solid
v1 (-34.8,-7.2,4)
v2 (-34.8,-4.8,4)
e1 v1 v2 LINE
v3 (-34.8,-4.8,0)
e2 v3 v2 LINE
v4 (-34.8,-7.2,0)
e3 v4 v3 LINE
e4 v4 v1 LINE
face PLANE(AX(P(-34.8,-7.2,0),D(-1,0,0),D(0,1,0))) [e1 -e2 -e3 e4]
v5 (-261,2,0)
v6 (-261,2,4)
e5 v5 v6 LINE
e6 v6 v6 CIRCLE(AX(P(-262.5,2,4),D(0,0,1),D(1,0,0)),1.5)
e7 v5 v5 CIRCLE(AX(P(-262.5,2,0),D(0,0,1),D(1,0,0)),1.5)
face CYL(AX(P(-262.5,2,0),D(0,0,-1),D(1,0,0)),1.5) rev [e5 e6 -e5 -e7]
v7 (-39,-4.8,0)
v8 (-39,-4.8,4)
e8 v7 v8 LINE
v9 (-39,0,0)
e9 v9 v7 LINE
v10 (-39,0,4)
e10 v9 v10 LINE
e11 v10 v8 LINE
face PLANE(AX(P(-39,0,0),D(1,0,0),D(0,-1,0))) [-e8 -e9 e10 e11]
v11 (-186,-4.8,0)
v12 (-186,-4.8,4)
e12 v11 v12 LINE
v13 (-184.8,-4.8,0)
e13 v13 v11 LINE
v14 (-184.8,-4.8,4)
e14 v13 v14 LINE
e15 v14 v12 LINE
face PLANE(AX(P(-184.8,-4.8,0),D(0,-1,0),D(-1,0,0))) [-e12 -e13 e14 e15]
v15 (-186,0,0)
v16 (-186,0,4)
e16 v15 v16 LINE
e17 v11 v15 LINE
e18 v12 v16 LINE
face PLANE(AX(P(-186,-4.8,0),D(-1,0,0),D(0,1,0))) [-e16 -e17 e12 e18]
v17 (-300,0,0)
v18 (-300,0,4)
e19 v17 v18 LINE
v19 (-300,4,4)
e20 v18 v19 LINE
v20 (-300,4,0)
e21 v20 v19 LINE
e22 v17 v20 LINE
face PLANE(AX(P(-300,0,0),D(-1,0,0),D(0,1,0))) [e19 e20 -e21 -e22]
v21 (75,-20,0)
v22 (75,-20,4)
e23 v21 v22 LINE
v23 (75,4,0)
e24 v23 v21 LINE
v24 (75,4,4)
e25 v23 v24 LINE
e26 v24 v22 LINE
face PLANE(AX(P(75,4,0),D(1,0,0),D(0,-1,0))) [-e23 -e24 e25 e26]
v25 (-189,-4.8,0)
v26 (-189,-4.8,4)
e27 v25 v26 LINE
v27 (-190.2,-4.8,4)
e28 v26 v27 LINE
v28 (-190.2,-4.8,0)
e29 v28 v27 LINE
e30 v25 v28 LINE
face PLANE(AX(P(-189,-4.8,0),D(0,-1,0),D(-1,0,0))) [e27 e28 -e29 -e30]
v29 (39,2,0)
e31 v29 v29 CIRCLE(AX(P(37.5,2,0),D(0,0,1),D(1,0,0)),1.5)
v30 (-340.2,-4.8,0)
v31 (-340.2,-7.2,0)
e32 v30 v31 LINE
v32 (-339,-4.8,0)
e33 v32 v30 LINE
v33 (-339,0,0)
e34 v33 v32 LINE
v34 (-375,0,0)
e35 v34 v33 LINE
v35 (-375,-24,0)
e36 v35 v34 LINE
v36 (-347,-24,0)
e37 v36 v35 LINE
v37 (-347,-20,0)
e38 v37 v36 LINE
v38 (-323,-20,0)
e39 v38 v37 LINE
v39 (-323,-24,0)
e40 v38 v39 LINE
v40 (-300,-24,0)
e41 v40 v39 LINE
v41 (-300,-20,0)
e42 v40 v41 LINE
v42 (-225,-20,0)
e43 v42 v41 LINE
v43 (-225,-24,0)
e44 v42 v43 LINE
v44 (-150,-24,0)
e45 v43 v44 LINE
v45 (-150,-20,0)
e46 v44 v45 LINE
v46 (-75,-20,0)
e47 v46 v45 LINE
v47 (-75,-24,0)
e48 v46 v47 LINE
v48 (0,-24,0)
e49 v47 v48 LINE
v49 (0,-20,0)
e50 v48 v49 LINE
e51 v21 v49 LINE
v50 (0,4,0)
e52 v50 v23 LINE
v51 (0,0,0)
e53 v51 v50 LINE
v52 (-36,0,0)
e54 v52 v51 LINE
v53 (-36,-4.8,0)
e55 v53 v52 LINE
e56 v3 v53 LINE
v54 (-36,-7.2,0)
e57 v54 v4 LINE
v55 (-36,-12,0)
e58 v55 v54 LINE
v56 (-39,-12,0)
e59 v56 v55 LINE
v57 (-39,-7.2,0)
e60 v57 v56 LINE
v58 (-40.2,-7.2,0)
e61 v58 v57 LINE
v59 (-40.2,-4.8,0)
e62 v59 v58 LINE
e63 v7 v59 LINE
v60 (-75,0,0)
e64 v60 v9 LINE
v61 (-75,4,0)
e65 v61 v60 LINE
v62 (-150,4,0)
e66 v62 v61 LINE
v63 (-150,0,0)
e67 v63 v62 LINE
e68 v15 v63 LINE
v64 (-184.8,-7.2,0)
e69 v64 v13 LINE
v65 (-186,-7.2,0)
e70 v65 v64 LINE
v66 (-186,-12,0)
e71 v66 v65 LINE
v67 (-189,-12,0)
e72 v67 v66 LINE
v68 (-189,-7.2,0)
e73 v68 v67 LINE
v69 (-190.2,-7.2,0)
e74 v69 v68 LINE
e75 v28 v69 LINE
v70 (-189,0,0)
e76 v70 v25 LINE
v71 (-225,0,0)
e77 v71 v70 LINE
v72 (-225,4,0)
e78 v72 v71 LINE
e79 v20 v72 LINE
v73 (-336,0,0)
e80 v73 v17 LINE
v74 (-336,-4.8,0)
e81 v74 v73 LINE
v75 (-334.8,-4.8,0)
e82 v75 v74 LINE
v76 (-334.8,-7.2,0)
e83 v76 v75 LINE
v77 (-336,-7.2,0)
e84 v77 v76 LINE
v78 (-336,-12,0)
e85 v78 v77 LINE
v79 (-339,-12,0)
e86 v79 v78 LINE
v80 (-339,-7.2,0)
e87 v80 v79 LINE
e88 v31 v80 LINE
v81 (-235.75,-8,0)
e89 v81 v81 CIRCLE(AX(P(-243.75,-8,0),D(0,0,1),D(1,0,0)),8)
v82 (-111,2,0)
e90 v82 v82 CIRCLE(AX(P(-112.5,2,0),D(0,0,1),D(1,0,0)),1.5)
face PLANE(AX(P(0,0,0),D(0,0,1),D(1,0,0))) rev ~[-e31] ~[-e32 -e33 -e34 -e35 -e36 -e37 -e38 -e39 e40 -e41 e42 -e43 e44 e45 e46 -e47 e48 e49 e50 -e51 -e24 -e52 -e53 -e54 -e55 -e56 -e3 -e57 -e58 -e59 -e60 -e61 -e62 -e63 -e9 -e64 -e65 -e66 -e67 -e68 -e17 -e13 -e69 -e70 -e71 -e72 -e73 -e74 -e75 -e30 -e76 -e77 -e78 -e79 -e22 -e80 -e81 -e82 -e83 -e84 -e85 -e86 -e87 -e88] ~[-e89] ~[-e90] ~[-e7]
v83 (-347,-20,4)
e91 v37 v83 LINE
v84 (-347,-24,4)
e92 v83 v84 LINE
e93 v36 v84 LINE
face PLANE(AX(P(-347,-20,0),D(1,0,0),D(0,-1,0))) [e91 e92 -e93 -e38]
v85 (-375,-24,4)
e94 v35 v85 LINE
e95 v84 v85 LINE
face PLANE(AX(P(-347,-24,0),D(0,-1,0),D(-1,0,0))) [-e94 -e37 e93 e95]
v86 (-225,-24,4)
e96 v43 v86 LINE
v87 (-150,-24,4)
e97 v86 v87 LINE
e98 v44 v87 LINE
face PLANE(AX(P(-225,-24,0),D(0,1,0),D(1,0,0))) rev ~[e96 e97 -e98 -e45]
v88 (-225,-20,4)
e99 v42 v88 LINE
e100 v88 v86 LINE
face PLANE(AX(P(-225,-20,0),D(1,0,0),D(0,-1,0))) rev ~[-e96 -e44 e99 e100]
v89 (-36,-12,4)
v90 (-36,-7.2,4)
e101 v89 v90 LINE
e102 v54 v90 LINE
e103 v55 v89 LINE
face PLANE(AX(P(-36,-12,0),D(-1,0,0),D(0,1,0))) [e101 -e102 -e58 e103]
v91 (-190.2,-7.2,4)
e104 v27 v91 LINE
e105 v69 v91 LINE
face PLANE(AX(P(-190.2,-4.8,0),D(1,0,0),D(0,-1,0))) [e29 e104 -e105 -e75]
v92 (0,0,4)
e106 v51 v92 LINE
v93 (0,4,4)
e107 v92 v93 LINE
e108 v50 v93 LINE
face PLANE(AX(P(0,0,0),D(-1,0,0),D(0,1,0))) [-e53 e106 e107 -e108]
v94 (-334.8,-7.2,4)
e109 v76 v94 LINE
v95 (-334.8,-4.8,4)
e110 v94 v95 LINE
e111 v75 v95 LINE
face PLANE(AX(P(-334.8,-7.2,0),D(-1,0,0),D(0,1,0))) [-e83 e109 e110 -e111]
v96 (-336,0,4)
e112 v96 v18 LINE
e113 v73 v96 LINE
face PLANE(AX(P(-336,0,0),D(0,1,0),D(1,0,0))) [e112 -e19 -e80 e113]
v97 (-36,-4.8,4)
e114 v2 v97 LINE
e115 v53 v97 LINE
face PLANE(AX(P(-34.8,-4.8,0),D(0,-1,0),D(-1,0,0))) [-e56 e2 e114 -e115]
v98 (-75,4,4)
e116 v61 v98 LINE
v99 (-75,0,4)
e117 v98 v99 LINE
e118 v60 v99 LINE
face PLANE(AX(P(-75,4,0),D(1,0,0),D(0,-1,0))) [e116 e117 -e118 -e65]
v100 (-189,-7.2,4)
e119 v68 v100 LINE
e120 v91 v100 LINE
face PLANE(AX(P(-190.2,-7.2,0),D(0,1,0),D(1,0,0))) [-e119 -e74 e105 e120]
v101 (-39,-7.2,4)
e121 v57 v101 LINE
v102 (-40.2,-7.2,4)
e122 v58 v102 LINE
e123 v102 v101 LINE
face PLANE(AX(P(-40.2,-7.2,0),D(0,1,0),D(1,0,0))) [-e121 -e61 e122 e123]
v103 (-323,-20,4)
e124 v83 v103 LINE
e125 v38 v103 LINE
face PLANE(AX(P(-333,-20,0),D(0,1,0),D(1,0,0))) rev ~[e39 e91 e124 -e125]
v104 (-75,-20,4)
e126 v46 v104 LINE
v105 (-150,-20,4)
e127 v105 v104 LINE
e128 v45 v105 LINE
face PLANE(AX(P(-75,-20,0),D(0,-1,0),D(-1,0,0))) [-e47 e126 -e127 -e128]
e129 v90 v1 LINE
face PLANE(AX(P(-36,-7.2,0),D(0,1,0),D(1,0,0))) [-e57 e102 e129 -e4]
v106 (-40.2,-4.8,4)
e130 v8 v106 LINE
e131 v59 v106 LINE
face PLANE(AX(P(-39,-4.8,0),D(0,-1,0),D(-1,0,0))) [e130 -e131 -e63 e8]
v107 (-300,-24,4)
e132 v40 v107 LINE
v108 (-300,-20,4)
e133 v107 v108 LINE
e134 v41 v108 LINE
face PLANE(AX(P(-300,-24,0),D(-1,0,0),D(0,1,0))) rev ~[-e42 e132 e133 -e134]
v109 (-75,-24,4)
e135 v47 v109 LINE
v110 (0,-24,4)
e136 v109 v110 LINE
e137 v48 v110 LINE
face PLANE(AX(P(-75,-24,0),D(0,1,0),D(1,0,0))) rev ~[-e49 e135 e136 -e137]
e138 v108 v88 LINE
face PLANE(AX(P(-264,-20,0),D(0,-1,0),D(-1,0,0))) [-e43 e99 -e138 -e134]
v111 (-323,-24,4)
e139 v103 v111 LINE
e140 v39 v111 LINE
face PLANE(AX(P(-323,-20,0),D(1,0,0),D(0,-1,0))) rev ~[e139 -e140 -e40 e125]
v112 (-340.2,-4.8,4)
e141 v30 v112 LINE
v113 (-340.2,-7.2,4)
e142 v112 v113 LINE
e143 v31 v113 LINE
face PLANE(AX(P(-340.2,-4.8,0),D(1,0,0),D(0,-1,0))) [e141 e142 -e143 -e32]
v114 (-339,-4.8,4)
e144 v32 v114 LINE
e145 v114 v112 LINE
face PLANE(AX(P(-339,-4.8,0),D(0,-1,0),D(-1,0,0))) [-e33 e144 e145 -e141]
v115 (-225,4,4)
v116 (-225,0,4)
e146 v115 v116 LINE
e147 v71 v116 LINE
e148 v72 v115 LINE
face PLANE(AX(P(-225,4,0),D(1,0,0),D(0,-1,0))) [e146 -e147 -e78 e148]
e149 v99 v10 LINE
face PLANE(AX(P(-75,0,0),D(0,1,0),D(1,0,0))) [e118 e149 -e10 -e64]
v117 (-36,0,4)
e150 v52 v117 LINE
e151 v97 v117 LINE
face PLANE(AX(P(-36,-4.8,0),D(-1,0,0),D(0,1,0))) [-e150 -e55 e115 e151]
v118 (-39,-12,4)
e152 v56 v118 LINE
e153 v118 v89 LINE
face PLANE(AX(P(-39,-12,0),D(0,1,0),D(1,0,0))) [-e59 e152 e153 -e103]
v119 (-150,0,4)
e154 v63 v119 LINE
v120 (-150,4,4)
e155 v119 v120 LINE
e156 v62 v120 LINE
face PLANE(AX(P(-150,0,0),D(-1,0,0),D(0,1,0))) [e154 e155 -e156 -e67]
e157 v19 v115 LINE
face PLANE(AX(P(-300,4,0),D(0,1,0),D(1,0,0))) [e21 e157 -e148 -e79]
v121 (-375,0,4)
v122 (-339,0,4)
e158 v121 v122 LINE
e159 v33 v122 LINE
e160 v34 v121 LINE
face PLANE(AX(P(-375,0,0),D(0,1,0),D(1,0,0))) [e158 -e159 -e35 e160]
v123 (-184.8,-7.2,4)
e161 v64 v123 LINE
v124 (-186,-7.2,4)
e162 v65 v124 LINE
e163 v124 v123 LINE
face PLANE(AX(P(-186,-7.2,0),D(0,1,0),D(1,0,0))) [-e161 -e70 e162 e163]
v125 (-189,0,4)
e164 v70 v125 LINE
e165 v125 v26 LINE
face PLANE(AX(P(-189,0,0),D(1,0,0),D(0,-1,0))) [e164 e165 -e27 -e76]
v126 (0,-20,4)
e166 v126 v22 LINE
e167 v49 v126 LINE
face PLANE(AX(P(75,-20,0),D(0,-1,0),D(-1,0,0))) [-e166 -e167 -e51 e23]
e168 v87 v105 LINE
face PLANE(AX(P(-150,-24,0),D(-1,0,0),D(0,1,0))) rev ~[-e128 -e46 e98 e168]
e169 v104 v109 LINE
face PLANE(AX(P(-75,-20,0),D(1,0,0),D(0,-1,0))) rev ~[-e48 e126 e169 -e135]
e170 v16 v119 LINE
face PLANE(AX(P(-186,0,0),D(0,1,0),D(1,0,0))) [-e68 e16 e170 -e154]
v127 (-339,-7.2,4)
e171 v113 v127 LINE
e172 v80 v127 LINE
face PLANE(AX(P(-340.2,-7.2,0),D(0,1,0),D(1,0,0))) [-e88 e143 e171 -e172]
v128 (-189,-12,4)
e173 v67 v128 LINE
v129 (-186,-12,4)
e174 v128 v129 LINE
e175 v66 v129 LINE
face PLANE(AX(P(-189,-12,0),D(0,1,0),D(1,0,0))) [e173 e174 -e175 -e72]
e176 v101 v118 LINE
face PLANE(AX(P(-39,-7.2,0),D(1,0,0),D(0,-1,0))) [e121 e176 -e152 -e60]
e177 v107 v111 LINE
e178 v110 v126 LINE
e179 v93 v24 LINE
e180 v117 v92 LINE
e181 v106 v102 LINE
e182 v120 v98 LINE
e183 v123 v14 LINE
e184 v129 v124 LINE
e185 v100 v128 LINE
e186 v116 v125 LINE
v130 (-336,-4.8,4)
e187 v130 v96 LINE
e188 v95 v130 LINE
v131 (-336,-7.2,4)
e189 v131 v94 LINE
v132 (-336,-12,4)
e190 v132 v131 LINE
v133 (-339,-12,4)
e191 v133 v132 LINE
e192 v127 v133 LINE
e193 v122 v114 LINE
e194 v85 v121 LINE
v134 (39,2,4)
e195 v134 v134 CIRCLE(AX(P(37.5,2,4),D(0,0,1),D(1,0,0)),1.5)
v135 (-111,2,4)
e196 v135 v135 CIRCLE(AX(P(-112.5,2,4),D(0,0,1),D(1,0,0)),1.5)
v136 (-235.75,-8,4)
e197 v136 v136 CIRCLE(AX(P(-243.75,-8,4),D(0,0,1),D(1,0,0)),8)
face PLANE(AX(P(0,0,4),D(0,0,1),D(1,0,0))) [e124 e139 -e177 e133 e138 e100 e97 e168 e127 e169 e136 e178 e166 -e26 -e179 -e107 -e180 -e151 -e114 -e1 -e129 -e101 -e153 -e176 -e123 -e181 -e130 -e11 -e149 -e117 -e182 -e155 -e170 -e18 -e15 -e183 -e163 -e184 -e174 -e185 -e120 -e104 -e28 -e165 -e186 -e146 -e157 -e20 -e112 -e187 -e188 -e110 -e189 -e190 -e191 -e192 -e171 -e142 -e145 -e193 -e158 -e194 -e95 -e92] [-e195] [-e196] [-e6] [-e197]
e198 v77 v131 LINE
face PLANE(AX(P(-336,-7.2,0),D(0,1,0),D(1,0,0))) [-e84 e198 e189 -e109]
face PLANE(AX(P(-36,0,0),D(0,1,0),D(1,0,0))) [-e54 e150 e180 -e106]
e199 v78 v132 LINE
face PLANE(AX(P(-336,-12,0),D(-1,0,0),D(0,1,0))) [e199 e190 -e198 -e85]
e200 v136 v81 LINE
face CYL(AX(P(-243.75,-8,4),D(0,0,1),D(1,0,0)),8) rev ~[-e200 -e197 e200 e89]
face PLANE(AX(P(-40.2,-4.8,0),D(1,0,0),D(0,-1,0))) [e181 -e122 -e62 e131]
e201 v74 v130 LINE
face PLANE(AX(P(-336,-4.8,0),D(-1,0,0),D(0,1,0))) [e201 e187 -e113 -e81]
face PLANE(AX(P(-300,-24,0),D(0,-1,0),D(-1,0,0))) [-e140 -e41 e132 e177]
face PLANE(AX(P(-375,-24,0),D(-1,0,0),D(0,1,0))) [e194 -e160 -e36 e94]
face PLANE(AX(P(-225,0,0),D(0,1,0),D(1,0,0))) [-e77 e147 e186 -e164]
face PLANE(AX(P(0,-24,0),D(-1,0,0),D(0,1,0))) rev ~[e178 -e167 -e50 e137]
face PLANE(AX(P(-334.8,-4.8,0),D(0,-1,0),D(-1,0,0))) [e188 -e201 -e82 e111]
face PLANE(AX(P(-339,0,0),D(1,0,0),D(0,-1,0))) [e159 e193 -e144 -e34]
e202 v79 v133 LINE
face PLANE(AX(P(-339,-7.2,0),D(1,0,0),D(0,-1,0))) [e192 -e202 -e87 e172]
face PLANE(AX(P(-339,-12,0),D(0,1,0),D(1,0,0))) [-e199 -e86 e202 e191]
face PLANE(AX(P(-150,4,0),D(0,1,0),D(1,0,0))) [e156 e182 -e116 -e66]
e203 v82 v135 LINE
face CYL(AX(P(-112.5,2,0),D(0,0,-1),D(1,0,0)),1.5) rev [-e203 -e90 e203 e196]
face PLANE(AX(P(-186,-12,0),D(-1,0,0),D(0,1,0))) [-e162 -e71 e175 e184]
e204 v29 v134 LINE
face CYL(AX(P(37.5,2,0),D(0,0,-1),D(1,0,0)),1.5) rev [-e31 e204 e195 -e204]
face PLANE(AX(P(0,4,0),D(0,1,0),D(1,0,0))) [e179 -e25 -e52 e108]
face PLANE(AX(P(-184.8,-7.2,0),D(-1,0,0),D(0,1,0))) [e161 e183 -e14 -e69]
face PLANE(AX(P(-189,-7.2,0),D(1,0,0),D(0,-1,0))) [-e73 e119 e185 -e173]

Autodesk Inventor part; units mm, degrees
ref_plane "YZ Plane" through (0, 0, 0) normal (1, 0, 0) x (0, 1, 0)
ref_plane "XZ Plane" through (0, 0, 0) normal (0, 1, 0) x (-1, 0, 0)
ref_plane "XY Plane" through (0, 0, 0) normal (0, 0, 1) x (1, 0, 0)
sketch "Sketch1" plane through (0, 0, 0) normal (0, 0, 1) x (1, 0, 0)
  line L0 (-300, -24) -> (-300, -20) projected
  line L1 (-225, -24) -> (-300, -24) construction
  line L2 (-225, -20) -> (-225, -24) projected
  line L3 (-225, -20) -> (-300, -20) projected
  line L4 (-150, -24) -> (-150, -20) projected
  line L5 (-75, -24) -> (-150, -24) construction
  line L6 (-75, -20) -> (-75, -24) projected
  line L7 (-75, -20) -> (-150, -20) projected
  circle A0 centre (-262.5, 2) radius 1.5 projected
  circle A1 centre (-112.5, 2) radius 1.5 projected
  circle A2 centre (37.5, 2) radius 1.5 projected
  line L8 (-236, -49) -> (-236, -199) construction
  line L9 (-236, -199) -> (11, -199) construction
  line L10 (11, -199) -> (11, -49) construction
  line L11 (11, -49) -> (-236, -49) construction
  circle A3 centre (43, -151.5) radius 1.5 construction
  circle A4 centre (43, -96.5) radius 1.5 construction
  circle A5 centre (-268, -96.5) radius 1.5 construction
  circle A6 centre (-268, -151.5) radius 1.5 construction
  circle A7 centre (-335, -151.5) radius 1.5 construction
  circle A8 centre (-335, -96.5) radius 1.5 construction
  line L12 (-270, -161.5) -> (-270, -196.5) construction
  line L13 (-270, -196.5) -> (-266, -196.5) construction
  line L14 (-266, -196.5) -> (-266, -161.5) construction
  line L15 (-266, -161.5) -> (-270, -161.5) construction
  line L16 (45, -51.5) -> (41, -51.5) construction
  line L17 (41, -51.5) -> (41, -86.5) construction
  line L18 (41, -86.5) -> (45, -86.5) construction
  line L19 (45, -86.5) -> (45, -51.5) construction
  line L20 (45, -141.5) -> (45, -106.5) construction
  line L21 (45, -106.5) -> (41, -106.5) construction
  line L22 (41, -106.5) -> (41, -141.5) construction
  line L23 (41, -141.5) -> (45, -141.5) construction
  line L24 (-337, -161.5) -> (-337, -196.5) construction
  line L25 (-337, -196.5) -> (-333, -196.5) construction
  line L26 (-333, -196.5) -> (-333, -161.5) construction
  line L27 (-333, -161.5) -> (-337, -161.5) construction
  line L28 (-270, -106.5) -> (-270, -141.5) construction
  line L29 (-270, -141.5) -> (-266, -141.5) construction
  line L30 (-266, -141.5) -> (-266, -106.5) construction
  line L31 (-266, -106.5) -> (-270, -106.5) construction
  line L32 (-337, -51.5) -> (-337, -86.5) construction
  line L33 (-337, -86.5) -> (-333, -86.5) construction
  line L34 (-333, -86.5) -> (-333, -51.5) construction
  line L35 (-333, -51.5) -> (-337, -51.5) construction
  line L36 (41, -161.5) -> (41, -196.5) construction
  line L37 (41, -196.5) -> (45, -196.5) construction
  line L38 (45, -196.5) -> (45, -161.5) construction
  line L39 (45, -161.5) -> (41, -161.5) construction
  line L40 (-333, -106.5) -> (-337, -106.5) construction
  line L41 (-337, -106.5) -> (-337, -141.5) construction
  line L42 (-337, -141.5) -> (-333, -141.5) construction
  line L43 (-333, -141.5) -> (-333, -106.5) construction
  line L44 (-266, -51.5) -> (-270, -51.5) construction
  line L45 (-270, -51.5) -> (-270, -86.5) construction
  line L46 (-270, -86.5) -> (-266, -86.5) construction
  line L47 (-266, -86.5) -> (-266, -51.5) construction
  circle A9 centre (-112.5, -226) radius 1.5 construction
  circle A10 centre (-262.5, -226) radius 1.5 construction
  circle A11 centre (-187.5, -22) radius 1.5 construction
  circle A12 centre (-37.5, -22) radius 1.5 construction
  circle A13 centre (-337.5, -22) radius 1.5 construction
  circle A14 centre (37.5, -226) radius 1.5 construction
  line L48 (-375, -36.5) -> (-375, 0) projected
  line L49 (-336, 0) -> (-300, 0) projected
  line L50 (-300, 0) -> (-300, 4) projected
  line L51 (-300, 4) -> (-225, 4) projected
  line L52 (-225, 4) -> (-225, 0) projected
  line L53 (-225, 0) -> (-189, 0) projected
  line L54 (-150, 0) -> (-150, 4) projected
  line L55 (-150, 4) -> (-75, 4) projected
  line L56 (-75, 4) -> (-75, 0) projected
  line L57 (-75, 0) -> (-39, 0) projected
  line L58 (0, 0) -> (0, 4) projected
  line L59 (0, 4) -> (75, 4) projected
  line L60 (75, 4) -> (75, -20) projected
  line L61 (75, -20) -> (0, -20) projected
  line L62 (0, -24) -> (0, -20) projected
  line L63 (75, -24) -> (0, -24) construction
  line L64 (75, -36.5) -> (75, -24) projected
  line L65 (79, -36.5) -> (75, -36.5) projected
  line L66 (79, -71.5) -> (79, -36.5) construction
  line L67 (75, -71.5) -> (79, -71.5) construction
  line L68 (75, -87.5) -> (75, -71.5) construction
  line L69 (70.2, -87.5) -> (75, -87.5) construction
  line L70 (70.2, -86.3) -> (70.2, -87.5) construction
  line L71 (67.8, -86.3) -> (70.2, -86.3) construction
  line L72 (67.8, -87.5) -> (67.8, -86.3) construction
  line L73 (63, -87.5) -> (67.8, -87.5) construction
  line L74 (63, -90.5) -> (63, -87.5) construction
  line L75 (67.8, -90.5) -> (63, -90.5) construction
  line L76 (67.8, -91.7) -> (67.8, -90.5) construction
  line L77 (70.2, -91.7) -> (67.8, -91.7) construction
  line L78 (70.2, -90.5) -> (70.2, -91.7) construction
  line L79 (75, -90.5) -> (70.2, -90.5) construction
  line L80 (75, -106.5) -> (75, -90.5) construction
  line L81 (79, -106.5) -> (75, -106.5) construction
  line L82 (79, -141.5) -> (79, -106.5) construction
  line L83 (75, -141.5) -> (79, -141.5) construction
  line L84 (75, -157.5) -> (75, -141.5) construction
  line L85 (70.2, -157.5) -> (75, -157.5) construction
  line L86 (70.2, -156.3) -> (70.2, -157.5) construction
  line L87 (67.8, -156.3) -> (70.2, -156.3) construction
  line L88 (67.8, -157.5) -> (67.8, -156.3) construction
  line L89 (63, -157.5) -> (67.8, -157.5) construction
  line L90 (63, -160.5) -> (63, -157.5) construction
  line L91 (67.8, -160.5) -> (63, -160.5) construction
  line L92 (67.8, -161.7) -> (67.8, -160.5) construction
  line L93 (70.2, -161.7) -> (67.8, -161.7) construction
  line L94 (70.2, -160.5) -> (70.2, -161.7) construction
  line L95 (75, -160.5) -> (70.2, -160.5) construction
  line L96 (75, -176.5) -> (75, -160.5) construction
  line L97 (79, -176.5) -> (75, -176.5) construction
  line L98 (79, -211.5) -> (79, -176.5) construction
  line L99 (75, -211.5) -> (79, -211.5) construction
  line L100 (75, -228) -> (75, -211.5) construction
  line L101 (0, -228) -> (75, -228) construction
  line L102 (0, -224) -> (0, -228) construction
  line L103 (-36, -224) -> (0, -224) construction
  line L104 (-36, -224) -> (-36, -219.2) construction
  line L105 (-36, -219.2) -> (-34.8, -219.2) construction
  line L106 (-34.8, -219.2) -> (-34.8, -216.8) construction
  line L107 (-34.8, -216.8) -> (-36, -216.8) construction
  line L108 (-36, -216.8) -> (-36, -212) construction
  line L109 (-36, -212) -> (-39, -212) construction
  line L110 (-39, -212) -> (-39, -216.8) construction
  line L111 (-39, -216.8) -> (-40.2, -216.8) construction
  line L112 (-40.2, -216.8) -> (-40.2, -219.2) construction
  line L113 (-40.2, -219.2) -> (-39, -219.2) construction
  line L114 (-39, -219.2) -> (-39, -224) construction
  line L115 (-75, -224) -> (-39, -224) construction
  line L116 (-75, -228) -> (-75, -224) construction
  line L117 (-150, -228) -> (-75, -228) construction
  line L118 (-150, -224) -> (-150, -228) construction
  line L119 (-186, -224) -> (-150, -224) construction
  line L120 (-186, -224) -> (-186, -219.2) construction
  line L121 (-186, -219.2) -> (-184.8, -219.2) construction
  line L122 (-184.8, -219.2) -> (-184.8, -216.8) construction
  line L123 (-184.8, -216.8) -> (-186, -216.8) construction
  line L124 (-186, -216.8) -> (-186, -212) construction
  line L125 (-186, -212) -> (-189, -212) construction
  line L126 (-189, -212) -> (-189, -216.8) construction
  line L127 (-189, -216.8) -> (-190.2, -216.8) construction
  line L128 (-190.2, -216.8) -> (-190.2, -219.2) construction
  line L129 (-190.2, -219.2) -> (-189, -219.2) construction
  line L130 (-189, -219.2) -> (-189, -224) construction
  line L131 (-225, -224) -> (-189, -224) construction
  line L132 (-225, -228) -> (-225, -224) construction
  line L133 (-300, -228) -> (-225, -228) construction
  line L134 (-300, -224) -> (-300, -228) construction
  line L135 (-336, -224) -> (-300, -224) construction
  line L136 (-336, -224) -> (-336, -219.2) construction
  line L137 (-336, -219.2) -> (-334.8, -219.2) construction
  line L138 (-334.8, -219.2) -> (-334.8, -216.8) construction
  line L139 (-334.8, -216.8) -> (-336, -216.8) construction
  line L140 (-336, -216.8) -> (-336, -212) construction
  line L141 (-336, -212) -> (-339, -212) construction
  line L142 (-339, -212) -> (-339, -216.8) construction
  line L143 (-339, -216.8) -> (-340.2, -216.8) construction
  line L144 (-340.2, -216.8) -> (-340.2, -219.2) construction
  line L145 (-340.2, -219.2) -> (-339, -219.2) construction
  line L146 (-339, -219.2) -> (-339, -224) construction
  line L147 (-375, -224) -> (-339, -224) construction
  line L148 (-375, -211.5) -> (-375, -224) construction
  line L149 (-383, -211.5) -> (-375, -211.5) construction
  line L150 (-383, -176.5) -> (-383, -211.5) construction
  line L151 (-375, -176.5) -> (-383, -176.5) construction
  line L152 (-375, -160.5) -> (-375, -176.5) construction
  line L153 (-370.2, -160.5) -> (-375, -160.5) construction
  line L154 (-370.2, -161.7) -> (-370.2, -160.5) construction
  line L155 (-367.8, -161.7) -> (-370.2, -161.7) construction
  line L156 (-367.8, -160.5) -> (-367.8, -161.7) construction
  line L157 (-363, -160.5) -> (-367.8, -160.5) construction
  line L158 (-363, -157.5) -> (-363, -160.5) construction
  line L159 (-367.8, -157.5) -> (-363, -157.5) construction
  line L160 (-367.8, -156.3) -> (-367.8, -157.5) construction
  line L161 (-370.2, -156.3) -> (-367.8, -156.3) construction
  line L162 (-370.2, -157.5) -> (-370.2, -156.3) construction
  line L163 (-375, -157.5) -> (-370.2, -157.5) construction
  line L164 (-375, -141.5) -> (-375, -157.5) construction
  line L165 (-383, -141.5) -> (-375, -141.5) construction
  line L166 (-383, -106.5) -> (-383, -141.5) construction
  line L167 (-375, -106.5) -> (-383, -106.5) construction
  line L168 (-375, -90.5) -> (-375, -106.5) construction
  line L169 (-370.2, -90.5) -> (-375, -90.5) construction
  line L170 (-370.2, -91.7) -> (-370.2, -90.5) construction
  line L171 (-367.8, -91.7) -> (-370.2, -91.7) construction
  line L172 (-367.8, -90.5) -> (-367.8, -91.7) construction
  line L173 (-363, -90.5) -> (-367.8, -90.5) construction
  line L174 (-363, -87.5) -> (-363, -90.5) construction
  line L175 (-367.8, -87.5) -> (-363, -87.5) construction
  line L176 (-367.8, -86.3) -> (-367.8, -87.5) construction
  line L177 (-370.2, -86.3) -> (-367.8, -86.3) construction
  line L178 (-370.2, -87.5) -> (-370.2, -86.3) construction
  line L179 (-375, -87.5) -> (-370.2, -87.5) construction
  line L180 (-375, -71.5) -> (-375, -87.5) construction
  line L181 (-383, -71.5) -> (-375, -71.5) construction
  line L182 (-383, -36.5) -> (-383, -71.5) construction
  line L183 (-375, -36.5) -> (-383, -36.5) projected
  line L184 (-300, -24) -> (-323, -24)
  line L185 (-225, -24) -> (-150, -24)
  line L186 (-75, -24) -> (0, -24)
  line L187 (-337, -86.5) -> (-337, -51.5) projected
  line L188 (-337, -51.5) -> (-333, -51.5) projected
  line L189 (-333, -86.5) -> (-333, -51.5) projected
  line L190 (-337, -86.5) -> (-333, -86.5) projected
  line L191 (-333, -51.5) -> (-337, -51.5) projected
  line L192 (-337, -20) -> (-333, -20) projected
  line L193 (-337, -20) -> (-347, -20)
  line L194 (-347, -20) -> (-347, -24)
  line L195 (-333, -20) -> (-323, -20)
  line L196 (-323, -20) -> (-323, -24)
  line L197 (-347, -24) -> (-375, -24)
  line L198 (-323, -24) -> (-347, -24) construction
  line L199 (-336, -4.8) -> (-336, 0) projected
  line L200 (-189, 0) -> (-189, -4.8) projected
  line L201 (-189, -4.8) -> (-190.2, -4.8) projected
  line L202 (-190.2, -4.8) -> (-190.2, -7.2) projected
  line L203 (-190.2, -7.2) -> (-189, -7.2) projected
  line L204 (-189, -7.2) -> (-189, -12) projected
  line L205 (-189, -12) -> (-186, -12) projected
  line L206 (-186, -12) -> (-186, -7.2) projected
  line L207 (-186, -7.2) -> (-184.8, -7.2) projected
  line L208 (-184.8, -7.2) -> (-184.8, -4.8) projected
  line L209 (-184.8, -4.8) -> (-186, -4.8) projected
  line L210 (-186, -4.8) -> (-186, 0) projected
  line L211 (-186, 0) -> (-150, 0) projected
  line L212 (-39, 0) -> (-39, -4.8) projected
  line L213 (-39, -4.8) -> (-40.2, -4.8) projected
  line L214 (-40.2, -4.8) -> (-40.2, -7.2) projected
  line L215 (-40.2, -7.2) -> (-39, -7.2) projected
  line L216 (-39, -7.2) -> (-39, -12) projected
  line L217 (-39, -12) -> (-36, -12) projected
  line L218 (-36, -12) -> (-36, -7.2) projected
  line L219 (-36, -7.2) -> (-34.8, -7.2) projected
  line L220 (-34.8, -7.2) -> (-34.8, -4.8) projected
  line L221 (-34.8, -4.8) -> (-36, -4.8) projected
  line L222 (-36, -4.8) -> (-36, 0) projected
  line L223 (-36, 0) -> (0, 0) projected
  line L224 (-339, 0) -> (-339, -4.8) projected
  line L225 (-339, -4.8) -> (-340.2, -4.8) projected
  line L226 (-340.2, -4.8) -> (-340.2, -7.2) projected
  line L227 (-340.2, -7.2) -> (-339, -7.2) projected
  line L228 (-339, -7.2) -> (-339, -12) projected
  line L229 (-339, -12) -> (-336, -12) projected
  line L230 (-336, -12) -> (-336, -7.2) projected
  line L231 (-336, -7.2) -> (-334.8, -7.2) projected
  line L232 (-334.8, -7.2) -> (-334.8, -4.8) projected
  line L233 (-334.8, -4.8) -> (-336, -4.8) projected
  line L234 (-264, -14.6161) -> (-264, -20)
  line L235 (-261, -20) -> (-261, -14.6161)
  line L236 (-261, -14.6161) -> (-259.8, -14.6161)
  line L237 (-259.8, -14.6161) -> (-259.8, -12.2161)
  line L238 (-259.8, -12.2161) -> (-261, -12.2161)
  line L239 (-261, -12.2161) -> (-261, -8)
  line L240 (-261, -8) -> (-264, -8)
  line L241 (-264, -8) -> (-264, -12.2161)
  line L242 (-264, -12.2161) -> (-265.2, -12.2161)
  line L243 (-265.2, -12.2161) -> (-265.2, -14.6161)
  line L244 (-265.2, -14.6161) -> (-264, -14.6161)
  line L245 (-115.2, -12.2161) -> (-115.2, -14.6161)
  line L246 (-115.2, -14.6161) -> (-114, -14.6161)
  line L247 (-111, -20) -> (-111, -14.6161)
  line L248 (-114, -12.2161) -> (-115.2, -12.2161)
  line L249 (-114, -8) -> (-114, -12.2161)
  line L250 (-111, -14.6161) -> (-109.8, -14.6161)
  line L251 (-109.8, -14.6161) -> (-109.8, -12.2161)
  line L252 (-109.8, -12.2161) -> (-111, -12.2161)
  line L253 (-111, -8) -> (-114, -8)
  line L254 (-111, -12.2161) -> (-111, -8)
  line L255 (-114, -14.6161) -> (-114, -20)
  line L256 (34.8, -12.2161) -> (34.8, -14.6161)
  line L257 (34.8, -14.6161) -> (36, -14.6161)
  line L258 (39, -20) -> (39, -14.6161)
  line L259 (36, -12.2161) -> (34.8, -12.2161)
  line L260 (36, -8) -> (36, -12.2161)
  line L261 (39, -14.6161) -> (40.2, -14.6161)
  line L262 (40.2, -14.6161) -> (40.2, -12.2161)
  line L263 (40.2, -12.2161) -> (39, -12.2161)
  line L264 (39, -8) -> (36, -8)
  line L265 (39, -12.2161) -> (39, -8)
  line L266 (36, -14.6161) -> (36, -20)
  line L267 (-375, 0) -> (-339, 0) projected
  point P0 (-262.5, -8)
  point P1 (-262.5, -20)
  point P2 (-112.5, -20)
  point P3 (-112.5, -8)
  point P4 (37.5, -20)
  point P5 (37.5, -8)
  dimension "d2" = 10
  dimension "d3" = 10
  dimension "d4" = 3
  dimension "d5" = 5.4
  dimension "d6" = 12
  dimension "d7" = 2.4
  dimension "d10" = 150
extrude "Extrusion1" add sketch "Sketch1" along normal blind 4 contours L184 L196 L195 L192 L193 L194 L197 L48 L267 L224 L225 L226 L227 L228 L229 L230 L231 L232 L233 L199 L49 L50 L51 L52 L53 L200 L201 L202 L203 L204 L205 L206 L207 L208 L209 L210 L211 L54 L55 L56 L57 L212 L213 L214 L215 L216 L217 L218 L219 L220 L221 L222 L223 L58 L59 L60 L61 L258 L261 L262 L263 L265 L264 L260 L259 L256 L257 L266 L62 L186 L6 L7 L247 L250 L251 L252 L254 L253 L249 L248 L245 L246 L255 L4 L185 L2 L3 L235 L236 L237 L238 L239 L240 L241 L242 L243 L244 L234 L0 | L234 L244 L243 L242 L241 L240 L239 L238 L237 L236 L235 L3 | L255 L246 L245 L248 L249 L253 L254 L252 L251 L250 L247 L7 | L266 L257 L256 L259 L260 L264 L265 L263 L262 L261 L258 L61
sketch "Sketch2" plane through (0, 0, 4) normal (0, 0, 1) x (1, 0, 0)
  circle A0 centre (-243.75, -8) radius 8
  line L0 (-225, -20) -> (-225, -24) construction
  line L1 (-225, -24) -> (-150, -24) construction
  line L2 (-150, -24) -> (-150, -20) construction
  line L3 (-150, -20) -> (-75, -20) construction
  line L4 (-75, -20) -> (-75, -24) construction
  line L5 (-75, -24) -> (0, -24) construction
  line L6 (0, -24) -> (0, -20) construction
  line L7 (0, -20) -> (75, -20) construction
  line L8 (75, -20) -> (75, 4) construction
  line L9 (75, 4) -> (0, 4) construction
  line L10 (0, 4) -> (0, 0) construction
  line L11 (0, 0) -> (-36, 0) construction
  line L12 (-36, 0) -> (-36, -4.8) construction
  line L13 (-36, -4.8) -> (-34.8, -4.8) construction
  line L14 (-34.8, -4.8) -> (-34.8, -7.2) construction
  line L15 (-34.8, -7.2) -> (-36, -7.2) construction
  line L16 (-36, -7.2) -> (-36, -12) construction
  line L17 (-36, -12) -> (-39, -12) construction
  line L18 (-39, -12) -> (-39, -7.2) construction
  line L19 (-39, -7.2) -> (-40.2, -7.2) construction
  line L20 (-40.2, -7.2) -> (-40.2, -4.8) construction
  line L21 (-40.2, -4.8) -> (-39, -4.8) construction
  line L22 (-39, -4.8) -> (-39, 0) construction
  line L23 (-39, 0) -> (-75, 0) construction
  line L24 (-75, 0) -> (-75, 4) construction
  line L25 (-75, 4) -> (-150, 4) construction
  line L26 (-150, 4) -> (-150, 0) construction
  line L27 (-150, 0) -> (-186, 0) construction
  line L28 (-186, 0) -> (-186, -4.8) construction
  line L29 (-186, -4.8) -> (-184.8, -4.8) construction
  line L30 (-184.8, -4.8) -> (-184.8, -7.2) construction
  line L31 (-184.8, -7.2) -> (-186, -7.2) construction
  line L32 (-186, -7.2) -> (-186, -12) construction
  line L33 (-186, -12) -> (-189, -12) construction
  line L34 (-189, -12) -> (-189, -7.2) construction
  line L35 (-189, -7.2) -> (-190.2, -7.2) construction
  line L36 (-190.2, -7.2) -> (-190.2, -4.8) construction
  line L37 (-190.2, -4.8) -> (-189, -4.8) construction
  line L38 (-189, -4.8) -> (-189, 0) construction
  line L39 (-189, 0) -> (-225, 0) construction
  line L40 (-225, 0) -> (-225, 4) construction
  line L41 (-225, 4) -> (-300, 4) construction
  line L42 (-300, 4) -> (-300, 0) construction
  line L43 (-300, 0) -> (-336, 0) construction
  line L44 (-336, 0) -> (-336, -4.8) construction
  line L45 (-336, -4.8) -> (-334.8, -4.8) construction
  line L46 (-334.8, -4.8) -> (-334.8, -7.2) construction
  line L47 (-334.8, -7.2) -> (-336, -7.2) construction
  line L48 (-336, -7.2) -> (-336, -12) construction
  line L49 (-336, -12) -> (-339, -12) construction
  line L50 (-339, -12) -> (-339, -7.2) construction
  line L51 (-339, -7.2) -> (-340.2, -7.2) construction
  line L52 (-340.2, -7.2) -> (-340.2, -4.8) construction
  line L53 (-340.2, -4.8) -> (-339, -4.8) construction
  line L54 (-339, -4.8) -> (-339, 0) construction
  line L55 (-339, 0) -> (-375, 0) construction
  line L56 (-375, 0) -> (-375, -24) construction
  line L57 (-375, -24) -> (-347, -24) construction
  line L58 (-347, -24) -> (-347, -20) construction
  line L59 (-347, -20) -> (-323, -20) construction
  line L60 (-323, -20) -> (-323, -24) construction
  line L61 (-323, -24) -> (-300, -24) construction
  line L62 (-300, -24) -> (-300, -20) construction
  line L63 (-300, -20) -> (-225, -20) construction
  circle A1 centre (-262.5, 2) radius 1.5 construction
  circle A2 centre (-112.5, 2) radius 1.5 construction
  circle A3 centre (37.5, 2) radius 1.5 construction
  line L64 (-243.75, -8) -> (-262.5, -8) construction
  line L65 (-243.75, -8) -> (-225, -8) construction
  dimension "d16" = 4
  dimension "d17" = 4
extrude "Extrusion2" cut sketch "Sketch2" against normal up to next
properties part number "Cableduct_Side" material "MDF Medium Density Fiberboard"
